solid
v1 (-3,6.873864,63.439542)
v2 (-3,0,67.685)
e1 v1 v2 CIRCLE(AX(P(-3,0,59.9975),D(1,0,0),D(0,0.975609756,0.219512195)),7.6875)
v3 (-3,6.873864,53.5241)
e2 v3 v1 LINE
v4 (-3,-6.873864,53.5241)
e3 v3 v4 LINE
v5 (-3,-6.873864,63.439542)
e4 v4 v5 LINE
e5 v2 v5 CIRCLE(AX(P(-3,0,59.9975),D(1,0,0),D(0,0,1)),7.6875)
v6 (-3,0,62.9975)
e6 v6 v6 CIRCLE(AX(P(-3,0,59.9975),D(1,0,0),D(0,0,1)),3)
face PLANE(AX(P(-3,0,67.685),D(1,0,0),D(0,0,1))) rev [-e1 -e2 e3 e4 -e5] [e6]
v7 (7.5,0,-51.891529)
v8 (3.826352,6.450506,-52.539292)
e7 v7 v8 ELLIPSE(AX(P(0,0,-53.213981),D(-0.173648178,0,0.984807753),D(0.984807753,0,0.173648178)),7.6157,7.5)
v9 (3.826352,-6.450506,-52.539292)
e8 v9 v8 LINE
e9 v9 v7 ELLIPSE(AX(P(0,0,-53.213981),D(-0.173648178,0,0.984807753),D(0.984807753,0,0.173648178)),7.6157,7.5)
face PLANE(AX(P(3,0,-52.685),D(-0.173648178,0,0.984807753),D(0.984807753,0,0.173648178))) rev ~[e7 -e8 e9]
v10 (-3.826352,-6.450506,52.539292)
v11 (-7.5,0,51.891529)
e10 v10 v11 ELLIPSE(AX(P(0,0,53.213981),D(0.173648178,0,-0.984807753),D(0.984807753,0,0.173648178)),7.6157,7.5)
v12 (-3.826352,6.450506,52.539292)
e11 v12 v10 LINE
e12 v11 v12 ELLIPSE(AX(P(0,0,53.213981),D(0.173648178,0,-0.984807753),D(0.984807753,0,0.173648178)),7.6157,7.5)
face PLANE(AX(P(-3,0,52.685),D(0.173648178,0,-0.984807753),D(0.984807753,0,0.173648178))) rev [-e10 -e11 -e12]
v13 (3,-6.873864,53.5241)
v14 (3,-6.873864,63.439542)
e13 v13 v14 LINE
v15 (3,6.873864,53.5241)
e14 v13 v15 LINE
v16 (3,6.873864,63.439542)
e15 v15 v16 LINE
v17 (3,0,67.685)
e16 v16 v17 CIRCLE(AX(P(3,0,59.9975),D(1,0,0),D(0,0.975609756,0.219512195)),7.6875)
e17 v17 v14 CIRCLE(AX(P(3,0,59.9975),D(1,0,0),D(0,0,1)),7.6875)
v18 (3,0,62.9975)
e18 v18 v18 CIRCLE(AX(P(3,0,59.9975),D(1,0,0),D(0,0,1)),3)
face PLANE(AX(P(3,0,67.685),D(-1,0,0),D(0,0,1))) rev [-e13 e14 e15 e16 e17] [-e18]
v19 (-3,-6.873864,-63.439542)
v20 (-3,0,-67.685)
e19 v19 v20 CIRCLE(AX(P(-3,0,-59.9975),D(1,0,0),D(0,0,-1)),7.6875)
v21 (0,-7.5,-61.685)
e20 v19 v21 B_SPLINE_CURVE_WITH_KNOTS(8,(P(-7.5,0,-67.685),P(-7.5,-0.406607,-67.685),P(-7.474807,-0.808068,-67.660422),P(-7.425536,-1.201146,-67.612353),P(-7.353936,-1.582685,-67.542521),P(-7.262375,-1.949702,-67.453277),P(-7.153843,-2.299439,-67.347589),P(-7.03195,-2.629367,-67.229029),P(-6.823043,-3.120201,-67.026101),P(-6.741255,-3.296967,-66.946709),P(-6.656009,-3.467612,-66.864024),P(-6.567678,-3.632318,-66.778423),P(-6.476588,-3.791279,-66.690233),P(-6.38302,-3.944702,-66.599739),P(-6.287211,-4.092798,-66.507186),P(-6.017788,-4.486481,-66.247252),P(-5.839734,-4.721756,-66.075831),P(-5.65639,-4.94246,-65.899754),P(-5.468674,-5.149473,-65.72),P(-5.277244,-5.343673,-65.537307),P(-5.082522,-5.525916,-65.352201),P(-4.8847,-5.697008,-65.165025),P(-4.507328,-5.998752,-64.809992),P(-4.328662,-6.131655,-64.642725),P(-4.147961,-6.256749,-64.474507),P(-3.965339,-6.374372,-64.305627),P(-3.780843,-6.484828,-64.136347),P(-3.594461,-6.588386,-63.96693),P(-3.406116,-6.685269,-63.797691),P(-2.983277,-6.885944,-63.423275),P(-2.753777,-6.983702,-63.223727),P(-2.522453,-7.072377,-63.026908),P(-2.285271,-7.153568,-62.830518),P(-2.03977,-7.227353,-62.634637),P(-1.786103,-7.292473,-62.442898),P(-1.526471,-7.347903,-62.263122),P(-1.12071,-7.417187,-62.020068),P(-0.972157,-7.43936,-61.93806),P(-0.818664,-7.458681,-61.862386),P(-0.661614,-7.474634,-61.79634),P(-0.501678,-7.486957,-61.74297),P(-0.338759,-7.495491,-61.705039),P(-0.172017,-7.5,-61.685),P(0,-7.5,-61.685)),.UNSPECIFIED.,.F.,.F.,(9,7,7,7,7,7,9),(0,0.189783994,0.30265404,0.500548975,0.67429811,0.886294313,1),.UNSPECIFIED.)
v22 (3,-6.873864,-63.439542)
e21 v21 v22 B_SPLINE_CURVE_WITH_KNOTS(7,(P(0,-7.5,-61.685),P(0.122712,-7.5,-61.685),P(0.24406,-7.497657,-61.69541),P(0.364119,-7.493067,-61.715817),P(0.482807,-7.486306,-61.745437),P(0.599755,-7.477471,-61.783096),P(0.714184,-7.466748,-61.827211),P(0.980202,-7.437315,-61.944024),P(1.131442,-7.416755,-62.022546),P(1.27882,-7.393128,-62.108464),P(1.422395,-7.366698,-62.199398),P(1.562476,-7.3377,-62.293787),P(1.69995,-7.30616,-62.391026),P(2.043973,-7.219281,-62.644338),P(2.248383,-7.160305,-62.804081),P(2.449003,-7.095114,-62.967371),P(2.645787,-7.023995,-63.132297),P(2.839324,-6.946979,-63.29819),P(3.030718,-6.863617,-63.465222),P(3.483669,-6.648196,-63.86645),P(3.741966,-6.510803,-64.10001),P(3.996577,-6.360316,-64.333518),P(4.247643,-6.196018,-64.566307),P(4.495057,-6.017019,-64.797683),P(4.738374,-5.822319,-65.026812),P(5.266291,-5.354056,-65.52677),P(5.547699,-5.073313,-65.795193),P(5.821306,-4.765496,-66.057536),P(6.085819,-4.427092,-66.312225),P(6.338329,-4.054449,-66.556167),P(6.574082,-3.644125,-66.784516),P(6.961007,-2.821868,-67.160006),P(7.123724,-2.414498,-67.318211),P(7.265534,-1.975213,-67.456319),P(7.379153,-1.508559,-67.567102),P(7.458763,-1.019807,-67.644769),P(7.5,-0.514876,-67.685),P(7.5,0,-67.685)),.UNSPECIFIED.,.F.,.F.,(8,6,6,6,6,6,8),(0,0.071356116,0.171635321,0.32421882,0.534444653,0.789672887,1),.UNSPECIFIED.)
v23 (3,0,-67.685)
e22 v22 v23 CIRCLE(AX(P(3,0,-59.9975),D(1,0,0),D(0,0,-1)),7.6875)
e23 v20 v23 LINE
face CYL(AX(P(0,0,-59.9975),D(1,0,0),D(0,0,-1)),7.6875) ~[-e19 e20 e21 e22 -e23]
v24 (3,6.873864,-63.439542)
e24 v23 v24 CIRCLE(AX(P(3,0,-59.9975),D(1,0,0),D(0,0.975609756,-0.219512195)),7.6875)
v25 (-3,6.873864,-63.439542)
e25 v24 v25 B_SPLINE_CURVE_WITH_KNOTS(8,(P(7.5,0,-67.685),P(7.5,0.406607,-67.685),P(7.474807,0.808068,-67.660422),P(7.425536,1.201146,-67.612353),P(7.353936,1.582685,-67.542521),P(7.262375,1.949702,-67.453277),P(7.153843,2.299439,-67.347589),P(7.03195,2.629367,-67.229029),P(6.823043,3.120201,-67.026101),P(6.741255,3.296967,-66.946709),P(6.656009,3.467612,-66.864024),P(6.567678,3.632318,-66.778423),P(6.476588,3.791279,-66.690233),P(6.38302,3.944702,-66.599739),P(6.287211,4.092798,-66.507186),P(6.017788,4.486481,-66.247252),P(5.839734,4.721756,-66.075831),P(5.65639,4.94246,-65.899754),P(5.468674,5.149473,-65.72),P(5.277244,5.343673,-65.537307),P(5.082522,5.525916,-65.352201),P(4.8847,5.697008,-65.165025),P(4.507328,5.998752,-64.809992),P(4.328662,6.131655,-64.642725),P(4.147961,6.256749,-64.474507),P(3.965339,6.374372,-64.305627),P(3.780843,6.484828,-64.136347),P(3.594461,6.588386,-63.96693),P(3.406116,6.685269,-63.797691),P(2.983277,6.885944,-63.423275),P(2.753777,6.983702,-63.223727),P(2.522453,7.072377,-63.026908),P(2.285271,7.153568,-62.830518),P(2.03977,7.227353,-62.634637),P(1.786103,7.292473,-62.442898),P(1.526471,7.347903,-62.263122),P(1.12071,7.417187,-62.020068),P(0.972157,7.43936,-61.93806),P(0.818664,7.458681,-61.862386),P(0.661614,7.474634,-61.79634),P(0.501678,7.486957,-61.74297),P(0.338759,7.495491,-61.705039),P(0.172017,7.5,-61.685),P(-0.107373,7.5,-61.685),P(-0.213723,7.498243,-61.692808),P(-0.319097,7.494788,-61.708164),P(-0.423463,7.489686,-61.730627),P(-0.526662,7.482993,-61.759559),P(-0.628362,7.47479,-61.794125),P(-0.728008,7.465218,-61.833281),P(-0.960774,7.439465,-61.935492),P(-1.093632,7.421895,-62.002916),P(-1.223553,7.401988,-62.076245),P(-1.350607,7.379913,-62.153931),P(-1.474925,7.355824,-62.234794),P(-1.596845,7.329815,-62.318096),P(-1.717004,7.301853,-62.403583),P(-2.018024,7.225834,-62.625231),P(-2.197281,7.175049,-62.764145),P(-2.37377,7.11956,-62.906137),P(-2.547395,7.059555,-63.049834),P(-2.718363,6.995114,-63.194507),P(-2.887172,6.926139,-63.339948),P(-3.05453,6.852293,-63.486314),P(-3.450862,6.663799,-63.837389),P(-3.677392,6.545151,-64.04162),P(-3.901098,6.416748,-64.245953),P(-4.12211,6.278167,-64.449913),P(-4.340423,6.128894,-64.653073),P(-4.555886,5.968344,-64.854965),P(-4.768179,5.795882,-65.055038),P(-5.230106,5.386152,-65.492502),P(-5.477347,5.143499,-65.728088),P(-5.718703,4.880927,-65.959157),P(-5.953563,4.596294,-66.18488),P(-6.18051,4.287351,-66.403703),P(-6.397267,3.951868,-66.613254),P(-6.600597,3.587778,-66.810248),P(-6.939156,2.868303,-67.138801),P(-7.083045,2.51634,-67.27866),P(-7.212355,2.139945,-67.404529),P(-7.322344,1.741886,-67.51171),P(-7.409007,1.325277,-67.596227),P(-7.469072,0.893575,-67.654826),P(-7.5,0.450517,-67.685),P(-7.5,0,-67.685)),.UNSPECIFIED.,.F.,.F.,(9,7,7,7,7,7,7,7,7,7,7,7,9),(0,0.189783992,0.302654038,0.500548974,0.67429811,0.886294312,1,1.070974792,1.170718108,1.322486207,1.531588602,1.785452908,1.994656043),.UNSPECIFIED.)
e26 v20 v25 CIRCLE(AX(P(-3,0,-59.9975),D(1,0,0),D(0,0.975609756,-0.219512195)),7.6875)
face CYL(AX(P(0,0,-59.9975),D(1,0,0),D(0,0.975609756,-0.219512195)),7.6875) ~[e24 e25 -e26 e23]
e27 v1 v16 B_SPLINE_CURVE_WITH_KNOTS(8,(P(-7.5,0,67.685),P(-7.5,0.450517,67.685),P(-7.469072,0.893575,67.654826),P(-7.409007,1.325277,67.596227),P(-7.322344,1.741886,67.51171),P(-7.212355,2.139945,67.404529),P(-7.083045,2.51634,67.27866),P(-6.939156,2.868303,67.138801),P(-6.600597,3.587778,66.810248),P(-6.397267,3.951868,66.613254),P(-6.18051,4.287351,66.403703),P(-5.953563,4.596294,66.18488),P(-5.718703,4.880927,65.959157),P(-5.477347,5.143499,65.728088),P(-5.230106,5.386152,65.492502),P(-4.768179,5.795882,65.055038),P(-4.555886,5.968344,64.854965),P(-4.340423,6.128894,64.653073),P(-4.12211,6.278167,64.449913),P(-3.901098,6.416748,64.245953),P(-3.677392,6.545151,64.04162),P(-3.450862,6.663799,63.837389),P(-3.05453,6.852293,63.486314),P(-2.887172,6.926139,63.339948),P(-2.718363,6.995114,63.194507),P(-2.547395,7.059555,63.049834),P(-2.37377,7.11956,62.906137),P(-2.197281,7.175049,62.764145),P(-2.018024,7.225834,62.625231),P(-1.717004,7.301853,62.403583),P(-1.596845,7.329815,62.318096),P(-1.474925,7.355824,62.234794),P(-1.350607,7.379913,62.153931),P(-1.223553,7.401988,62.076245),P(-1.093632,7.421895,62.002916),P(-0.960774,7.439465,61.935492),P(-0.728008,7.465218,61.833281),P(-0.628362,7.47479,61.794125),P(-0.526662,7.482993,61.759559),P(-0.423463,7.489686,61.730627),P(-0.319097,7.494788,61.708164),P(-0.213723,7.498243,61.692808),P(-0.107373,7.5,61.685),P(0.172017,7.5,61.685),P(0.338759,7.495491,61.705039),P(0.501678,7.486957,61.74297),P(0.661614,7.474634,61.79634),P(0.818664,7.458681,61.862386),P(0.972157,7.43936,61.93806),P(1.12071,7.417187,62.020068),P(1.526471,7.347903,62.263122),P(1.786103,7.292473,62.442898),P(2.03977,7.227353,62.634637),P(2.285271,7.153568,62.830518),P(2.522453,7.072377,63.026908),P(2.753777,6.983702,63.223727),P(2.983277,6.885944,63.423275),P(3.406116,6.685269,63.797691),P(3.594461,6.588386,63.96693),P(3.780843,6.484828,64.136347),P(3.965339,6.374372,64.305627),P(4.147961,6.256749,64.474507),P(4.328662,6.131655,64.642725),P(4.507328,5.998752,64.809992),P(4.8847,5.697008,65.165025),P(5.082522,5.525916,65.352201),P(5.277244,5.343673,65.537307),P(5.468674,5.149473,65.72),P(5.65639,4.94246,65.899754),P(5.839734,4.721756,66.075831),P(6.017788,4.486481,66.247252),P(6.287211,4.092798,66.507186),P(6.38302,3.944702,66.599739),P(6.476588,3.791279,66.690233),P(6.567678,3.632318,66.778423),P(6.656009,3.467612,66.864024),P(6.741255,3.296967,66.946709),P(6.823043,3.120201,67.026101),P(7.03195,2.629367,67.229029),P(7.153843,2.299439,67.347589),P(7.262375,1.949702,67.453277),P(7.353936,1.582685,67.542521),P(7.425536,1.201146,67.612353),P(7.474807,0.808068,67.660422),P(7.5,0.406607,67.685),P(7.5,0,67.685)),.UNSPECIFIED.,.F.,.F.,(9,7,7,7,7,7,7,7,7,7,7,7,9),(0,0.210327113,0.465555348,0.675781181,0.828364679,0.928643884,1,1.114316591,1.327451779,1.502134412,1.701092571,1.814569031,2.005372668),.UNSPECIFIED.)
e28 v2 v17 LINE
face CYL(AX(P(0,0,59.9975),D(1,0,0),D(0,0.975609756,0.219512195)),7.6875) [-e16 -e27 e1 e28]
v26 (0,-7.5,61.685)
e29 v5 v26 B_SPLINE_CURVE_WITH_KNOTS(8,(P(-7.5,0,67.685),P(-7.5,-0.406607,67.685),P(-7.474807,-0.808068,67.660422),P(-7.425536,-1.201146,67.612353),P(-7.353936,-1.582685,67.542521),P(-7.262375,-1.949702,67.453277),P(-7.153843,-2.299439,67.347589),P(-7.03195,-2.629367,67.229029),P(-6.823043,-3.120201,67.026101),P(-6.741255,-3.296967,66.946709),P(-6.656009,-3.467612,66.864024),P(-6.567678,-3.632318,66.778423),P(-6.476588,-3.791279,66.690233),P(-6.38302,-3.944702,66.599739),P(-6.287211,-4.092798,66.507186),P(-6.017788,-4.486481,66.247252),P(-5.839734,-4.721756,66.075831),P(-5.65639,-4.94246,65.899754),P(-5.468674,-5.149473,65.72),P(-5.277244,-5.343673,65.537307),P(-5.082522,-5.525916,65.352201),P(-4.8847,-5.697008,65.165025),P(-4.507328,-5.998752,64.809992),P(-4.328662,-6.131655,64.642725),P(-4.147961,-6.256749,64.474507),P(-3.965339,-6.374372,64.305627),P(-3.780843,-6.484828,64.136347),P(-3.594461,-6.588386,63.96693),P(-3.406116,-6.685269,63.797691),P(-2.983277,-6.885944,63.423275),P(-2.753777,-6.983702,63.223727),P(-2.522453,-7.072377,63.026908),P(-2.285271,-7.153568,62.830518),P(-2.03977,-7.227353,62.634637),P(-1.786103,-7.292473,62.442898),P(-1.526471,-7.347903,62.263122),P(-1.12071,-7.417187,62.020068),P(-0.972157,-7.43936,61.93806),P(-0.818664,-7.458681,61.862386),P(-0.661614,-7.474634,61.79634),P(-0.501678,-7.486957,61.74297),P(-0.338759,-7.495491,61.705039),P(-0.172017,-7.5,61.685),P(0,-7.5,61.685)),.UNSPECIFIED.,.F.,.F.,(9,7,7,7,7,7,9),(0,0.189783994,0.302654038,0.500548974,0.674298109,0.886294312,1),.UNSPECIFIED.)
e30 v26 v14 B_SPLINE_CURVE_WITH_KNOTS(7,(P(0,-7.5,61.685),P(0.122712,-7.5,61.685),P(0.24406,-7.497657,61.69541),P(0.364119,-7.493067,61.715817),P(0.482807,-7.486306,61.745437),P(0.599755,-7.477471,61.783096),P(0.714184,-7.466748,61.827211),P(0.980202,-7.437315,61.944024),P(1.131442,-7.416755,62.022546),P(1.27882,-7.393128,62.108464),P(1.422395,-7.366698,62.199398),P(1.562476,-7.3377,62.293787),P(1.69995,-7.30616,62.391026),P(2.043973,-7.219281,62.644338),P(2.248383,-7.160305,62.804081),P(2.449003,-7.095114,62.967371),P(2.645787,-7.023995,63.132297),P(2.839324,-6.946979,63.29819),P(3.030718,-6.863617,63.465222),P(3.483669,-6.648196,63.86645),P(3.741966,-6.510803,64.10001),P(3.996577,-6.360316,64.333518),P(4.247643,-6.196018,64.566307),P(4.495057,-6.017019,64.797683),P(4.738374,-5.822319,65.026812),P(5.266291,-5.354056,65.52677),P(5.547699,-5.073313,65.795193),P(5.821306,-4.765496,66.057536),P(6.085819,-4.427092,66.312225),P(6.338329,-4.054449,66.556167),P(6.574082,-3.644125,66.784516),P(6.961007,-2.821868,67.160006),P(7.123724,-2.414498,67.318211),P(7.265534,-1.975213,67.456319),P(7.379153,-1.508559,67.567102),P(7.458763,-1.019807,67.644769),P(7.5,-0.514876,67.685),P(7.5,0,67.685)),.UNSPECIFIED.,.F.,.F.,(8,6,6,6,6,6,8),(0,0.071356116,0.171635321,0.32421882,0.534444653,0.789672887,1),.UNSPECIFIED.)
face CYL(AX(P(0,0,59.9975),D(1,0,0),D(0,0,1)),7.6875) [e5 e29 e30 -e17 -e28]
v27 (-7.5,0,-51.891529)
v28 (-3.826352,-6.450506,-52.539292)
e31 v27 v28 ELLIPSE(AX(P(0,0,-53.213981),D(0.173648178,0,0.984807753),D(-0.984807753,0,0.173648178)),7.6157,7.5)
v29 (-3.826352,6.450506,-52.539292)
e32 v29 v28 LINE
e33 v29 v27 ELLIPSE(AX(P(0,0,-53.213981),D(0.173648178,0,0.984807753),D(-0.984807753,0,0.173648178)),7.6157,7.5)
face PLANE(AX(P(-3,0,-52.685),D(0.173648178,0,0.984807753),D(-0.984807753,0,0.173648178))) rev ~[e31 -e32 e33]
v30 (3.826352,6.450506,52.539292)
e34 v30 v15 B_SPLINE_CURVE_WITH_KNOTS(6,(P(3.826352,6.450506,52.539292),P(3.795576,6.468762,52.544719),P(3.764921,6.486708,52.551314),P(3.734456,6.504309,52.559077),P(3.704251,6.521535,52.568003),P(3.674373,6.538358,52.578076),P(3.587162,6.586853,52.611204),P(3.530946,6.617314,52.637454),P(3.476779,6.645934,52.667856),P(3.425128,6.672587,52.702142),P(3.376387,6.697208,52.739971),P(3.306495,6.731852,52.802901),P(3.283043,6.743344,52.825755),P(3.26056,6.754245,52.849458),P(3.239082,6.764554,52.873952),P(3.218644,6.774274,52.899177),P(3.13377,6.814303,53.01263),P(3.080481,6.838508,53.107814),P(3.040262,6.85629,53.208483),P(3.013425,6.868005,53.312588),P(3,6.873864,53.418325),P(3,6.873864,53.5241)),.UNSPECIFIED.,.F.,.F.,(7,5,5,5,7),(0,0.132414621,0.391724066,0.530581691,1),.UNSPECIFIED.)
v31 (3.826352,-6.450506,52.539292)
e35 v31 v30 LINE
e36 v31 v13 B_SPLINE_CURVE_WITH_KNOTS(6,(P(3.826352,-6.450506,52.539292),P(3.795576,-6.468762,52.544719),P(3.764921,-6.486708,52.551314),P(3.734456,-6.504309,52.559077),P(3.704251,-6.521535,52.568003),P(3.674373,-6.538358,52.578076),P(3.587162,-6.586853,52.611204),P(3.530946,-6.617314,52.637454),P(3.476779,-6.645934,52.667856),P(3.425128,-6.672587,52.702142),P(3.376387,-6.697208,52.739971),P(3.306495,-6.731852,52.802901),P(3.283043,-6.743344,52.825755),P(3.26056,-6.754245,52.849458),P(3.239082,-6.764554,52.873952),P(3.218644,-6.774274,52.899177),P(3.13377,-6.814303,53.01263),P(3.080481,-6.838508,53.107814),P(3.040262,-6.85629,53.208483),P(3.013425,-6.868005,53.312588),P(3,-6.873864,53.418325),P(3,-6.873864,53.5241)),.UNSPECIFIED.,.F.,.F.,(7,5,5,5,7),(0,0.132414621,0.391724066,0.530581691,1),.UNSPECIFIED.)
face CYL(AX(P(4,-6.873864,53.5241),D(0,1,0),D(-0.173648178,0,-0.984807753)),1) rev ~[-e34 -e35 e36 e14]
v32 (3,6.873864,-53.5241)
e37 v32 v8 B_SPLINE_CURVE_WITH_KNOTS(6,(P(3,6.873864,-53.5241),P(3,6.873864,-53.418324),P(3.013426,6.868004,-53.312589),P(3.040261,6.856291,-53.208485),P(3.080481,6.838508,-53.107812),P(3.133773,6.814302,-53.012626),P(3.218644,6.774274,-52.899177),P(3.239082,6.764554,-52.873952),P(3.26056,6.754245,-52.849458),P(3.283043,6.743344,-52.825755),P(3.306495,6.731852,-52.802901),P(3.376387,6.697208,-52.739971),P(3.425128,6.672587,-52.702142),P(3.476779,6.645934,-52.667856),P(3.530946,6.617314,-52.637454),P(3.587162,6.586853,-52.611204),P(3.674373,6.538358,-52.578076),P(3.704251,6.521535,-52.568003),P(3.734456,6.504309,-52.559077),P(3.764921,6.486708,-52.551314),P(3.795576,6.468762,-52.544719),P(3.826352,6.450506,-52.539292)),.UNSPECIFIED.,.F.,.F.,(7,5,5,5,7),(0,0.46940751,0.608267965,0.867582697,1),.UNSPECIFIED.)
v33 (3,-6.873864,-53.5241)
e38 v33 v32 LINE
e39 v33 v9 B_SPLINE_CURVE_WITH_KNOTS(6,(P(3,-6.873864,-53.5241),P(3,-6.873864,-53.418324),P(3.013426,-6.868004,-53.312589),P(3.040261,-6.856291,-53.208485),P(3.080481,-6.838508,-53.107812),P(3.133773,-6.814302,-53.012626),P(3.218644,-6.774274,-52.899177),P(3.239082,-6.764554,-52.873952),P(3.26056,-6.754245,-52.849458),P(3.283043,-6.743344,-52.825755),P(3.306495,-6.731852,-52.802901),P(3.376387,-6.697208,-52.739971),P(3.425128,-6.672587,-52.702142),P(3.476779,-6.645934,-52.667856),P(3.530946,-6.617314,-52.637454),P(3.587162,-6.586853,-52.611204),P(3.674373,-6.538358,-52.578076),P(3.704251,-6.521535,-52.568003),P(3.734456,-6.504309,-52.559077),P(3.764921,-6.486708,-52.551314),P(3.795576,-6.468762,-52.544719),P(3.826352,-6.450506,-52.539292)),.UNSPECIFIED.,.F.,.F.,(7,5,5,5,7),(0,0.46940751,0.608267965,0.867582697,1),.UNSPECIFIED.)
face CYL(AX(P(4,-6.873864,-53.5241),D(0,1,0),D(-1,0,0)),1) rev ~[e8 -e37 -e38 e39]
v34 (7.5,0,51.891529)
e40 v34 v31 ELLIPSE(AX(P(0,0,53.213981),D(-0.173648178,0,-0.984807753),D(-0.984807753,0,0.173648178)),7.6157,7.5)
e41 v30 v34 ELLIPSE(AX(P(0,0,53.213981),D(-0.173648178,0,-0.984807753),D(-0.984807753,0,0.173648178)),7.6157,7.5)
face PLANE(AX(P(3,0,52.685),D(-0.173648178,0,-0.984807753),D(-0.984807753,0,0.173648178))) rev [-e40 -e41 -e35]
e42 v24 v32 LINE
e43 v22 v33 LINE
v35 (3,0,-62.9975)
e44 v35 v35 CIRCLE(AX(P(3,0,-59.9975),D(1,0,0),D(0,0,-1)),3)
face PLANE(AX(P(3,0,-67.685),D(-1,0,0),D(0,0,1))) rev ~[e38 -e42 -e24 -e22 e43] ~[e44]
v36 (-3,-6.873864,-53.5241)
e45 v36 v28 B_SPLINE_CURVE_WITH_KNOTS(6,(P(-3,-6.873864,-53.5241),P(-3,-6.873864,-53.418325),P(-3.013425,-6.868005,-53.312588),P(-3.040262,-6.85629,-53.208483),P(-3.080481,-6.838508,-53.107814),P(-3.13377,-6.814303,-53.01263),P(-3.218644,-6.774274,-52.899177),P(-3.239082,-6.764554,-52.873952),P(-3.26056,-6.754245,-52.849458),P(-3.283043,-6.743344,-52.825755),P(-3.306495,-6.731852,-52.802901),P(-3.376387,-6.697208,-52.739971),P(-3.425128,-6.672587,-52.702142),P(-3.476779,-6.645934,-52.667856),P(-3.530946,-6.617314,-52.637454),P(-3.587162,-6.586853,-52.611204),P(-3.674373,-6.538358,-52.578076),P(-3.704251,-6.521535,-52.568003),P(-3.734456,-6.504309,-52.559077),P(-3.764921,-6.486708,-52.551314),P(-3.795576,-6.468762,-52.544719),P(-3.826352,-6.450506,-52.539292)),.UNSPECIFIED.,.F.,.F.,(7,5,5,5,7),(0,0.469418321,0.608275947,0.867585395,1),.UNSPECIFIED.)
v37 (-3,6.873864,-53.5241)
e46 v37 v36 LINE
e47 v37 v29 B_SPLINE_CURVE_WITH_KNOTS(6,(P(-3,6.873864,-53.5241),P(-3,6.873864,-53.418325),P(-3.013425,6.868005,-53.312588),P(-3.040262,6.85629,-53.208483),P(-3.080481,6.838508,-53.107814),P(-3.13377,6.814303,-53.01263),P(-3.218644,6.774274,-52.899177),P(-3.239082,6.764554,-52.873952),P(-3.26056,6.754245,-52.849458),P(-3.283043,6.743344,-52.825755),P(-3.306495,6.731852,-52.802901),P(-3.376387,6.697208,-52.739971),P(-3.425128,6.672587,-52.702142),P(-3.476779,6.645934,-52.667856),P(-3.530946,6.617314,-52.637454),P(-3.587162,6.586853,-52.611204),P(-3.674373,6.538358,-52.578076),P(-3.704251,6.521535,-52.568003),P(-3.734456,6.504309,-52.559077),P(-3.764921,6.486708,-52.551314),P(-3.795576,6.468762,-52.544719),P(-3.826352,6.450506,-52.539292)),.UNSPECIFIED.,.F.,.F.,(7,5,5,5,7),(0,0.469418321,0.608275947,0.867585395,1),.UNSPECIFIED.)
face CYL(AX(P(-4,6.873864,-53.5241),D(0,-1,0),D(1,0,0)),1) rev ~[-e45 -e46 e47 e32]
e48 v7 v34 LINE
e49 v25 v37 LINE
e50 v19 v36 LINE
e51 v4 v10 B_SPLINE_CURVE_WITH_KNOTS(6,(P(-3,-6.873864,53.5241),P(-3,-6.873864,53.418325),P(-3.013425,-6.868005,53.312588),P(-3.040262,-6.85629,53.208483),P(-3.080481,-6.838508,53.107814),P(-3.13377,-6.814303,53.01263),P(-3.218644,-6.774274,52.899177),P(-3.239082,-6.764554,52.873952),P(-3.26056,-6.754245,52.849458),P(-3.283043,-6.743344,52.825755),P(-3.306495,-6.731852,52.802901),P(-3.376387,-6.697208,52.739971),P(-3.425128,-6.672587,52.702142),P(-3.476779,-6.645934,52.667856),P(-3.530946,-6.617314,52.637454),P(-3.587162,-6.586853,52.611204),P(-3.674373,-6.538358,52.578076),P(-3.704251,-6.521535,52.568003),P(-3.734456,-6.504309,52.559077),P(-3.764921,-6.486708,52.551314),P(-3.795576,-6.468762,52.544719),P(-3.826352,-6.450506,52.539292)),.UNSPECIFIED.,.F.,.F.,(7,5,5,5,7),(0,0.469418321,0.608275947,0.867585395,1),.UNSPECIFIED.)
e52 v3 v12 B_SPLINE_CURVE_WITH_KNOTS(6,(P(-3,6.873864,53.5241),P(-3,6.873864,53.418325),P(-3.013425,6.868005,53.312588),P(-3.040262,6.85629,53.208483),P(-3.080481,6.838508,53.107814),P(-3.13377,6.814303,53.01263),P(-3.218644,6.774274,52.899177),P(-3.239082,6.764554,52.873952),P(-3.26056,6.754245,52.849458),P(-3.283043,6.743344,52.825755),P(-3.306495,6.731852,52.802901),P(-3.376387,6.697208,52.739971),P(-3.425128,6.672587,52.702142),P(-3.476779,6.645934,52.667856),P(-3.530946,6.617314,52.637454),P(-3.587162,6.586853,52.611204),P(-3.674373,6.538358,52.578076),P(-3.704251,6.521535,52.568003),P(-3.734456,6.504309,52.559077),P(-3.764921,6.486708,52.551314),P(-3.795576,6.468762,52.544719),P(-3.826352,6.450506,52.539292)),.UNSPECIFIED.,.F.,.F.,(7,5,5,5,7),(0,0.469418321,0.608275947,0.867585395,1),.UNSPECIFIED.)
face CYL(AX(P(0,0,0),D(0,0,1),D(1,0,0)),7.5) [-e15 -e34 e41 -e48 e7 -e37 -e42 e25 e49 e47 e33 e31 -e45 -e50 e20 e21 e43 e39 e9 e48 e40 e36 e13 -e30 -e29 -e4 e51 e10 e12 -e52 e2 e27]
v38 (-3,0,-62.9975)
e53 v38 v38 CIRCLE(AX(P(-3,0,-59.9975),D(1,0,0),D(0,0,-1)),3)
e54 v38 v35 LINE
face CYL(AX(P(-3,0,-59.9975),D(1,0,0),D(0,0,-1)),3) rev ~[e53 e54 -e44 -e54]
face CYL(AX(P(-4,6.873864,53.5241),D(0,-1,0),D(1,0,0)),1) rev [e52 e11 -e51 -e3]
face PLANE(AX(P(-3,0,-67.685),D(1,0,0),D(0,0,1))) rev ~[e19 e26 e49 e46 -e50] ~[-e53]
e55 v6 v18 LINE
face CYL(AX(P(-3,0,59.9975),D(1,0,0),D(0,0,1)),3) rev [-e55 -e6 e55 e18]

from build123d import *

# Parameters (mm, degrees)
SKETCH1_R            = 7.5
BOSS_EXTRUDE1_DEPTH  = 67.685
CUT_EXTRUDE2_DEPTH   = 69.511015355
CUT_EXTRUDE3_DEPTH   = 69.511015476
SKETCH8_R            = 3
CUT_EXTRUDE4_DEPTH   = 69.903985677
FILLET1_R            = 1
FILLET1_OF_MIRROR2_R = 1


with BuildPart() as part:
    # Sketch1 → Boss-Extrude1 (new, symmetric)
    with BuildSketch(Plane.XY):
        Circle(SKETCH1_R)
    extrude(amount=BOSS_EXTRUDE1_DEPTH, both=True)

    # Sketch6 → Cut-Extrude2 (cut, symmetric)
    with BuildSketch(Plane(origin=(0, 0, 0), x_dir=(0, 0, -1), z_dir=(1, 0, 0))):
        with BuildLine():
            Line((67.685, 0), (67.685, 7.5))
            Line((67.685, 7.5), (61.685, 7.5))
            ThreePointArc((61.685, 7.5), (66.000428973, 4.802343178), (67.685, 0))
        make_face()
        with BuildLine():
            Line((67.685, -7.5), (67.685, 0))
            ThreePointArc((67.685, 0), (66.000428973, -4.802343178), (61.685, -7.5))
            Line((61.685, -7.5), (67.685, -7.5))
        make_face()
    cut_extrude2 = extrude(amount=CUT_EXTRUDE2_DEPTH, both=True, mode=Mode.SUBTRACT)

    # Sketch7 → Cut-Extrude3 (cut, symmetric)
    with BuildSketch(Plane(origin=(0, 0, 0), x_dir=(1, 0, 0), z_dir=(0, 1, 0))):
        Polygon((-3, 67.685), (-3, 52.685), (-7.5, 51.891528587), (-7.5, 67.685), align=None)
        Polygon((7.5, 67.685), (3, 67.685), (3, 52.685), (7.5, 51.891528587), align=None)
    cut_extrude3 = extrude(amount=CUT_EXTRUDE3_DEPTH, both=True, mode=Mode.SUBTRACT)

    # Sketch8 → Cut-Extrude4 (cut, symmetric)
    with BuildSketch(Plane(origin=(-3, 0, 0), x_dir=(0, 0, -1), z_dir=(1, 0, 0))):
        with Locations((59.9975, 0)):
            Circle(SKETCH8_R)
    cut_extrude4 = extrude(amount=CUT_EXTRUDE4_DEPTH, both=True, mode=Mode.SUBTRACT)

    # Fillet1
    fillet1_edges = [part.edges().sort_by_distance(p)[0] for p in [
        (-3, 0, -52.685),
        (3, 0, -52.685),
    ]]
    fillet(fillet1_edges, radius=FILLET1_R)

    # Mirror2: Cut-Extrude2, Cut-Extrude3, Cut-Extrude4 across plane
    add(cut_extrude2.mirror(Plane.XY), mode=Mode.SUBTRACT)
    add(cut_extrude3.mirror(Plane.XY), mode=Mode.SUBTRACT)
    add(cut_extrude4.mirror(Plane.XY), mode=Mode.SUBTRACT)

    # Fillet1 of Mirror2
    fillet1_of_mirror2_edges = [part.edges().sort_by_distance(p)[0] for p in [
        (-3, 0, 52.685),
        (3, 0, 52.685),
    ]]
    fillet(fillet1_of_mirror2_edges, radius=FILLET1_OF_MIRROR2_R)


solid = part.part
